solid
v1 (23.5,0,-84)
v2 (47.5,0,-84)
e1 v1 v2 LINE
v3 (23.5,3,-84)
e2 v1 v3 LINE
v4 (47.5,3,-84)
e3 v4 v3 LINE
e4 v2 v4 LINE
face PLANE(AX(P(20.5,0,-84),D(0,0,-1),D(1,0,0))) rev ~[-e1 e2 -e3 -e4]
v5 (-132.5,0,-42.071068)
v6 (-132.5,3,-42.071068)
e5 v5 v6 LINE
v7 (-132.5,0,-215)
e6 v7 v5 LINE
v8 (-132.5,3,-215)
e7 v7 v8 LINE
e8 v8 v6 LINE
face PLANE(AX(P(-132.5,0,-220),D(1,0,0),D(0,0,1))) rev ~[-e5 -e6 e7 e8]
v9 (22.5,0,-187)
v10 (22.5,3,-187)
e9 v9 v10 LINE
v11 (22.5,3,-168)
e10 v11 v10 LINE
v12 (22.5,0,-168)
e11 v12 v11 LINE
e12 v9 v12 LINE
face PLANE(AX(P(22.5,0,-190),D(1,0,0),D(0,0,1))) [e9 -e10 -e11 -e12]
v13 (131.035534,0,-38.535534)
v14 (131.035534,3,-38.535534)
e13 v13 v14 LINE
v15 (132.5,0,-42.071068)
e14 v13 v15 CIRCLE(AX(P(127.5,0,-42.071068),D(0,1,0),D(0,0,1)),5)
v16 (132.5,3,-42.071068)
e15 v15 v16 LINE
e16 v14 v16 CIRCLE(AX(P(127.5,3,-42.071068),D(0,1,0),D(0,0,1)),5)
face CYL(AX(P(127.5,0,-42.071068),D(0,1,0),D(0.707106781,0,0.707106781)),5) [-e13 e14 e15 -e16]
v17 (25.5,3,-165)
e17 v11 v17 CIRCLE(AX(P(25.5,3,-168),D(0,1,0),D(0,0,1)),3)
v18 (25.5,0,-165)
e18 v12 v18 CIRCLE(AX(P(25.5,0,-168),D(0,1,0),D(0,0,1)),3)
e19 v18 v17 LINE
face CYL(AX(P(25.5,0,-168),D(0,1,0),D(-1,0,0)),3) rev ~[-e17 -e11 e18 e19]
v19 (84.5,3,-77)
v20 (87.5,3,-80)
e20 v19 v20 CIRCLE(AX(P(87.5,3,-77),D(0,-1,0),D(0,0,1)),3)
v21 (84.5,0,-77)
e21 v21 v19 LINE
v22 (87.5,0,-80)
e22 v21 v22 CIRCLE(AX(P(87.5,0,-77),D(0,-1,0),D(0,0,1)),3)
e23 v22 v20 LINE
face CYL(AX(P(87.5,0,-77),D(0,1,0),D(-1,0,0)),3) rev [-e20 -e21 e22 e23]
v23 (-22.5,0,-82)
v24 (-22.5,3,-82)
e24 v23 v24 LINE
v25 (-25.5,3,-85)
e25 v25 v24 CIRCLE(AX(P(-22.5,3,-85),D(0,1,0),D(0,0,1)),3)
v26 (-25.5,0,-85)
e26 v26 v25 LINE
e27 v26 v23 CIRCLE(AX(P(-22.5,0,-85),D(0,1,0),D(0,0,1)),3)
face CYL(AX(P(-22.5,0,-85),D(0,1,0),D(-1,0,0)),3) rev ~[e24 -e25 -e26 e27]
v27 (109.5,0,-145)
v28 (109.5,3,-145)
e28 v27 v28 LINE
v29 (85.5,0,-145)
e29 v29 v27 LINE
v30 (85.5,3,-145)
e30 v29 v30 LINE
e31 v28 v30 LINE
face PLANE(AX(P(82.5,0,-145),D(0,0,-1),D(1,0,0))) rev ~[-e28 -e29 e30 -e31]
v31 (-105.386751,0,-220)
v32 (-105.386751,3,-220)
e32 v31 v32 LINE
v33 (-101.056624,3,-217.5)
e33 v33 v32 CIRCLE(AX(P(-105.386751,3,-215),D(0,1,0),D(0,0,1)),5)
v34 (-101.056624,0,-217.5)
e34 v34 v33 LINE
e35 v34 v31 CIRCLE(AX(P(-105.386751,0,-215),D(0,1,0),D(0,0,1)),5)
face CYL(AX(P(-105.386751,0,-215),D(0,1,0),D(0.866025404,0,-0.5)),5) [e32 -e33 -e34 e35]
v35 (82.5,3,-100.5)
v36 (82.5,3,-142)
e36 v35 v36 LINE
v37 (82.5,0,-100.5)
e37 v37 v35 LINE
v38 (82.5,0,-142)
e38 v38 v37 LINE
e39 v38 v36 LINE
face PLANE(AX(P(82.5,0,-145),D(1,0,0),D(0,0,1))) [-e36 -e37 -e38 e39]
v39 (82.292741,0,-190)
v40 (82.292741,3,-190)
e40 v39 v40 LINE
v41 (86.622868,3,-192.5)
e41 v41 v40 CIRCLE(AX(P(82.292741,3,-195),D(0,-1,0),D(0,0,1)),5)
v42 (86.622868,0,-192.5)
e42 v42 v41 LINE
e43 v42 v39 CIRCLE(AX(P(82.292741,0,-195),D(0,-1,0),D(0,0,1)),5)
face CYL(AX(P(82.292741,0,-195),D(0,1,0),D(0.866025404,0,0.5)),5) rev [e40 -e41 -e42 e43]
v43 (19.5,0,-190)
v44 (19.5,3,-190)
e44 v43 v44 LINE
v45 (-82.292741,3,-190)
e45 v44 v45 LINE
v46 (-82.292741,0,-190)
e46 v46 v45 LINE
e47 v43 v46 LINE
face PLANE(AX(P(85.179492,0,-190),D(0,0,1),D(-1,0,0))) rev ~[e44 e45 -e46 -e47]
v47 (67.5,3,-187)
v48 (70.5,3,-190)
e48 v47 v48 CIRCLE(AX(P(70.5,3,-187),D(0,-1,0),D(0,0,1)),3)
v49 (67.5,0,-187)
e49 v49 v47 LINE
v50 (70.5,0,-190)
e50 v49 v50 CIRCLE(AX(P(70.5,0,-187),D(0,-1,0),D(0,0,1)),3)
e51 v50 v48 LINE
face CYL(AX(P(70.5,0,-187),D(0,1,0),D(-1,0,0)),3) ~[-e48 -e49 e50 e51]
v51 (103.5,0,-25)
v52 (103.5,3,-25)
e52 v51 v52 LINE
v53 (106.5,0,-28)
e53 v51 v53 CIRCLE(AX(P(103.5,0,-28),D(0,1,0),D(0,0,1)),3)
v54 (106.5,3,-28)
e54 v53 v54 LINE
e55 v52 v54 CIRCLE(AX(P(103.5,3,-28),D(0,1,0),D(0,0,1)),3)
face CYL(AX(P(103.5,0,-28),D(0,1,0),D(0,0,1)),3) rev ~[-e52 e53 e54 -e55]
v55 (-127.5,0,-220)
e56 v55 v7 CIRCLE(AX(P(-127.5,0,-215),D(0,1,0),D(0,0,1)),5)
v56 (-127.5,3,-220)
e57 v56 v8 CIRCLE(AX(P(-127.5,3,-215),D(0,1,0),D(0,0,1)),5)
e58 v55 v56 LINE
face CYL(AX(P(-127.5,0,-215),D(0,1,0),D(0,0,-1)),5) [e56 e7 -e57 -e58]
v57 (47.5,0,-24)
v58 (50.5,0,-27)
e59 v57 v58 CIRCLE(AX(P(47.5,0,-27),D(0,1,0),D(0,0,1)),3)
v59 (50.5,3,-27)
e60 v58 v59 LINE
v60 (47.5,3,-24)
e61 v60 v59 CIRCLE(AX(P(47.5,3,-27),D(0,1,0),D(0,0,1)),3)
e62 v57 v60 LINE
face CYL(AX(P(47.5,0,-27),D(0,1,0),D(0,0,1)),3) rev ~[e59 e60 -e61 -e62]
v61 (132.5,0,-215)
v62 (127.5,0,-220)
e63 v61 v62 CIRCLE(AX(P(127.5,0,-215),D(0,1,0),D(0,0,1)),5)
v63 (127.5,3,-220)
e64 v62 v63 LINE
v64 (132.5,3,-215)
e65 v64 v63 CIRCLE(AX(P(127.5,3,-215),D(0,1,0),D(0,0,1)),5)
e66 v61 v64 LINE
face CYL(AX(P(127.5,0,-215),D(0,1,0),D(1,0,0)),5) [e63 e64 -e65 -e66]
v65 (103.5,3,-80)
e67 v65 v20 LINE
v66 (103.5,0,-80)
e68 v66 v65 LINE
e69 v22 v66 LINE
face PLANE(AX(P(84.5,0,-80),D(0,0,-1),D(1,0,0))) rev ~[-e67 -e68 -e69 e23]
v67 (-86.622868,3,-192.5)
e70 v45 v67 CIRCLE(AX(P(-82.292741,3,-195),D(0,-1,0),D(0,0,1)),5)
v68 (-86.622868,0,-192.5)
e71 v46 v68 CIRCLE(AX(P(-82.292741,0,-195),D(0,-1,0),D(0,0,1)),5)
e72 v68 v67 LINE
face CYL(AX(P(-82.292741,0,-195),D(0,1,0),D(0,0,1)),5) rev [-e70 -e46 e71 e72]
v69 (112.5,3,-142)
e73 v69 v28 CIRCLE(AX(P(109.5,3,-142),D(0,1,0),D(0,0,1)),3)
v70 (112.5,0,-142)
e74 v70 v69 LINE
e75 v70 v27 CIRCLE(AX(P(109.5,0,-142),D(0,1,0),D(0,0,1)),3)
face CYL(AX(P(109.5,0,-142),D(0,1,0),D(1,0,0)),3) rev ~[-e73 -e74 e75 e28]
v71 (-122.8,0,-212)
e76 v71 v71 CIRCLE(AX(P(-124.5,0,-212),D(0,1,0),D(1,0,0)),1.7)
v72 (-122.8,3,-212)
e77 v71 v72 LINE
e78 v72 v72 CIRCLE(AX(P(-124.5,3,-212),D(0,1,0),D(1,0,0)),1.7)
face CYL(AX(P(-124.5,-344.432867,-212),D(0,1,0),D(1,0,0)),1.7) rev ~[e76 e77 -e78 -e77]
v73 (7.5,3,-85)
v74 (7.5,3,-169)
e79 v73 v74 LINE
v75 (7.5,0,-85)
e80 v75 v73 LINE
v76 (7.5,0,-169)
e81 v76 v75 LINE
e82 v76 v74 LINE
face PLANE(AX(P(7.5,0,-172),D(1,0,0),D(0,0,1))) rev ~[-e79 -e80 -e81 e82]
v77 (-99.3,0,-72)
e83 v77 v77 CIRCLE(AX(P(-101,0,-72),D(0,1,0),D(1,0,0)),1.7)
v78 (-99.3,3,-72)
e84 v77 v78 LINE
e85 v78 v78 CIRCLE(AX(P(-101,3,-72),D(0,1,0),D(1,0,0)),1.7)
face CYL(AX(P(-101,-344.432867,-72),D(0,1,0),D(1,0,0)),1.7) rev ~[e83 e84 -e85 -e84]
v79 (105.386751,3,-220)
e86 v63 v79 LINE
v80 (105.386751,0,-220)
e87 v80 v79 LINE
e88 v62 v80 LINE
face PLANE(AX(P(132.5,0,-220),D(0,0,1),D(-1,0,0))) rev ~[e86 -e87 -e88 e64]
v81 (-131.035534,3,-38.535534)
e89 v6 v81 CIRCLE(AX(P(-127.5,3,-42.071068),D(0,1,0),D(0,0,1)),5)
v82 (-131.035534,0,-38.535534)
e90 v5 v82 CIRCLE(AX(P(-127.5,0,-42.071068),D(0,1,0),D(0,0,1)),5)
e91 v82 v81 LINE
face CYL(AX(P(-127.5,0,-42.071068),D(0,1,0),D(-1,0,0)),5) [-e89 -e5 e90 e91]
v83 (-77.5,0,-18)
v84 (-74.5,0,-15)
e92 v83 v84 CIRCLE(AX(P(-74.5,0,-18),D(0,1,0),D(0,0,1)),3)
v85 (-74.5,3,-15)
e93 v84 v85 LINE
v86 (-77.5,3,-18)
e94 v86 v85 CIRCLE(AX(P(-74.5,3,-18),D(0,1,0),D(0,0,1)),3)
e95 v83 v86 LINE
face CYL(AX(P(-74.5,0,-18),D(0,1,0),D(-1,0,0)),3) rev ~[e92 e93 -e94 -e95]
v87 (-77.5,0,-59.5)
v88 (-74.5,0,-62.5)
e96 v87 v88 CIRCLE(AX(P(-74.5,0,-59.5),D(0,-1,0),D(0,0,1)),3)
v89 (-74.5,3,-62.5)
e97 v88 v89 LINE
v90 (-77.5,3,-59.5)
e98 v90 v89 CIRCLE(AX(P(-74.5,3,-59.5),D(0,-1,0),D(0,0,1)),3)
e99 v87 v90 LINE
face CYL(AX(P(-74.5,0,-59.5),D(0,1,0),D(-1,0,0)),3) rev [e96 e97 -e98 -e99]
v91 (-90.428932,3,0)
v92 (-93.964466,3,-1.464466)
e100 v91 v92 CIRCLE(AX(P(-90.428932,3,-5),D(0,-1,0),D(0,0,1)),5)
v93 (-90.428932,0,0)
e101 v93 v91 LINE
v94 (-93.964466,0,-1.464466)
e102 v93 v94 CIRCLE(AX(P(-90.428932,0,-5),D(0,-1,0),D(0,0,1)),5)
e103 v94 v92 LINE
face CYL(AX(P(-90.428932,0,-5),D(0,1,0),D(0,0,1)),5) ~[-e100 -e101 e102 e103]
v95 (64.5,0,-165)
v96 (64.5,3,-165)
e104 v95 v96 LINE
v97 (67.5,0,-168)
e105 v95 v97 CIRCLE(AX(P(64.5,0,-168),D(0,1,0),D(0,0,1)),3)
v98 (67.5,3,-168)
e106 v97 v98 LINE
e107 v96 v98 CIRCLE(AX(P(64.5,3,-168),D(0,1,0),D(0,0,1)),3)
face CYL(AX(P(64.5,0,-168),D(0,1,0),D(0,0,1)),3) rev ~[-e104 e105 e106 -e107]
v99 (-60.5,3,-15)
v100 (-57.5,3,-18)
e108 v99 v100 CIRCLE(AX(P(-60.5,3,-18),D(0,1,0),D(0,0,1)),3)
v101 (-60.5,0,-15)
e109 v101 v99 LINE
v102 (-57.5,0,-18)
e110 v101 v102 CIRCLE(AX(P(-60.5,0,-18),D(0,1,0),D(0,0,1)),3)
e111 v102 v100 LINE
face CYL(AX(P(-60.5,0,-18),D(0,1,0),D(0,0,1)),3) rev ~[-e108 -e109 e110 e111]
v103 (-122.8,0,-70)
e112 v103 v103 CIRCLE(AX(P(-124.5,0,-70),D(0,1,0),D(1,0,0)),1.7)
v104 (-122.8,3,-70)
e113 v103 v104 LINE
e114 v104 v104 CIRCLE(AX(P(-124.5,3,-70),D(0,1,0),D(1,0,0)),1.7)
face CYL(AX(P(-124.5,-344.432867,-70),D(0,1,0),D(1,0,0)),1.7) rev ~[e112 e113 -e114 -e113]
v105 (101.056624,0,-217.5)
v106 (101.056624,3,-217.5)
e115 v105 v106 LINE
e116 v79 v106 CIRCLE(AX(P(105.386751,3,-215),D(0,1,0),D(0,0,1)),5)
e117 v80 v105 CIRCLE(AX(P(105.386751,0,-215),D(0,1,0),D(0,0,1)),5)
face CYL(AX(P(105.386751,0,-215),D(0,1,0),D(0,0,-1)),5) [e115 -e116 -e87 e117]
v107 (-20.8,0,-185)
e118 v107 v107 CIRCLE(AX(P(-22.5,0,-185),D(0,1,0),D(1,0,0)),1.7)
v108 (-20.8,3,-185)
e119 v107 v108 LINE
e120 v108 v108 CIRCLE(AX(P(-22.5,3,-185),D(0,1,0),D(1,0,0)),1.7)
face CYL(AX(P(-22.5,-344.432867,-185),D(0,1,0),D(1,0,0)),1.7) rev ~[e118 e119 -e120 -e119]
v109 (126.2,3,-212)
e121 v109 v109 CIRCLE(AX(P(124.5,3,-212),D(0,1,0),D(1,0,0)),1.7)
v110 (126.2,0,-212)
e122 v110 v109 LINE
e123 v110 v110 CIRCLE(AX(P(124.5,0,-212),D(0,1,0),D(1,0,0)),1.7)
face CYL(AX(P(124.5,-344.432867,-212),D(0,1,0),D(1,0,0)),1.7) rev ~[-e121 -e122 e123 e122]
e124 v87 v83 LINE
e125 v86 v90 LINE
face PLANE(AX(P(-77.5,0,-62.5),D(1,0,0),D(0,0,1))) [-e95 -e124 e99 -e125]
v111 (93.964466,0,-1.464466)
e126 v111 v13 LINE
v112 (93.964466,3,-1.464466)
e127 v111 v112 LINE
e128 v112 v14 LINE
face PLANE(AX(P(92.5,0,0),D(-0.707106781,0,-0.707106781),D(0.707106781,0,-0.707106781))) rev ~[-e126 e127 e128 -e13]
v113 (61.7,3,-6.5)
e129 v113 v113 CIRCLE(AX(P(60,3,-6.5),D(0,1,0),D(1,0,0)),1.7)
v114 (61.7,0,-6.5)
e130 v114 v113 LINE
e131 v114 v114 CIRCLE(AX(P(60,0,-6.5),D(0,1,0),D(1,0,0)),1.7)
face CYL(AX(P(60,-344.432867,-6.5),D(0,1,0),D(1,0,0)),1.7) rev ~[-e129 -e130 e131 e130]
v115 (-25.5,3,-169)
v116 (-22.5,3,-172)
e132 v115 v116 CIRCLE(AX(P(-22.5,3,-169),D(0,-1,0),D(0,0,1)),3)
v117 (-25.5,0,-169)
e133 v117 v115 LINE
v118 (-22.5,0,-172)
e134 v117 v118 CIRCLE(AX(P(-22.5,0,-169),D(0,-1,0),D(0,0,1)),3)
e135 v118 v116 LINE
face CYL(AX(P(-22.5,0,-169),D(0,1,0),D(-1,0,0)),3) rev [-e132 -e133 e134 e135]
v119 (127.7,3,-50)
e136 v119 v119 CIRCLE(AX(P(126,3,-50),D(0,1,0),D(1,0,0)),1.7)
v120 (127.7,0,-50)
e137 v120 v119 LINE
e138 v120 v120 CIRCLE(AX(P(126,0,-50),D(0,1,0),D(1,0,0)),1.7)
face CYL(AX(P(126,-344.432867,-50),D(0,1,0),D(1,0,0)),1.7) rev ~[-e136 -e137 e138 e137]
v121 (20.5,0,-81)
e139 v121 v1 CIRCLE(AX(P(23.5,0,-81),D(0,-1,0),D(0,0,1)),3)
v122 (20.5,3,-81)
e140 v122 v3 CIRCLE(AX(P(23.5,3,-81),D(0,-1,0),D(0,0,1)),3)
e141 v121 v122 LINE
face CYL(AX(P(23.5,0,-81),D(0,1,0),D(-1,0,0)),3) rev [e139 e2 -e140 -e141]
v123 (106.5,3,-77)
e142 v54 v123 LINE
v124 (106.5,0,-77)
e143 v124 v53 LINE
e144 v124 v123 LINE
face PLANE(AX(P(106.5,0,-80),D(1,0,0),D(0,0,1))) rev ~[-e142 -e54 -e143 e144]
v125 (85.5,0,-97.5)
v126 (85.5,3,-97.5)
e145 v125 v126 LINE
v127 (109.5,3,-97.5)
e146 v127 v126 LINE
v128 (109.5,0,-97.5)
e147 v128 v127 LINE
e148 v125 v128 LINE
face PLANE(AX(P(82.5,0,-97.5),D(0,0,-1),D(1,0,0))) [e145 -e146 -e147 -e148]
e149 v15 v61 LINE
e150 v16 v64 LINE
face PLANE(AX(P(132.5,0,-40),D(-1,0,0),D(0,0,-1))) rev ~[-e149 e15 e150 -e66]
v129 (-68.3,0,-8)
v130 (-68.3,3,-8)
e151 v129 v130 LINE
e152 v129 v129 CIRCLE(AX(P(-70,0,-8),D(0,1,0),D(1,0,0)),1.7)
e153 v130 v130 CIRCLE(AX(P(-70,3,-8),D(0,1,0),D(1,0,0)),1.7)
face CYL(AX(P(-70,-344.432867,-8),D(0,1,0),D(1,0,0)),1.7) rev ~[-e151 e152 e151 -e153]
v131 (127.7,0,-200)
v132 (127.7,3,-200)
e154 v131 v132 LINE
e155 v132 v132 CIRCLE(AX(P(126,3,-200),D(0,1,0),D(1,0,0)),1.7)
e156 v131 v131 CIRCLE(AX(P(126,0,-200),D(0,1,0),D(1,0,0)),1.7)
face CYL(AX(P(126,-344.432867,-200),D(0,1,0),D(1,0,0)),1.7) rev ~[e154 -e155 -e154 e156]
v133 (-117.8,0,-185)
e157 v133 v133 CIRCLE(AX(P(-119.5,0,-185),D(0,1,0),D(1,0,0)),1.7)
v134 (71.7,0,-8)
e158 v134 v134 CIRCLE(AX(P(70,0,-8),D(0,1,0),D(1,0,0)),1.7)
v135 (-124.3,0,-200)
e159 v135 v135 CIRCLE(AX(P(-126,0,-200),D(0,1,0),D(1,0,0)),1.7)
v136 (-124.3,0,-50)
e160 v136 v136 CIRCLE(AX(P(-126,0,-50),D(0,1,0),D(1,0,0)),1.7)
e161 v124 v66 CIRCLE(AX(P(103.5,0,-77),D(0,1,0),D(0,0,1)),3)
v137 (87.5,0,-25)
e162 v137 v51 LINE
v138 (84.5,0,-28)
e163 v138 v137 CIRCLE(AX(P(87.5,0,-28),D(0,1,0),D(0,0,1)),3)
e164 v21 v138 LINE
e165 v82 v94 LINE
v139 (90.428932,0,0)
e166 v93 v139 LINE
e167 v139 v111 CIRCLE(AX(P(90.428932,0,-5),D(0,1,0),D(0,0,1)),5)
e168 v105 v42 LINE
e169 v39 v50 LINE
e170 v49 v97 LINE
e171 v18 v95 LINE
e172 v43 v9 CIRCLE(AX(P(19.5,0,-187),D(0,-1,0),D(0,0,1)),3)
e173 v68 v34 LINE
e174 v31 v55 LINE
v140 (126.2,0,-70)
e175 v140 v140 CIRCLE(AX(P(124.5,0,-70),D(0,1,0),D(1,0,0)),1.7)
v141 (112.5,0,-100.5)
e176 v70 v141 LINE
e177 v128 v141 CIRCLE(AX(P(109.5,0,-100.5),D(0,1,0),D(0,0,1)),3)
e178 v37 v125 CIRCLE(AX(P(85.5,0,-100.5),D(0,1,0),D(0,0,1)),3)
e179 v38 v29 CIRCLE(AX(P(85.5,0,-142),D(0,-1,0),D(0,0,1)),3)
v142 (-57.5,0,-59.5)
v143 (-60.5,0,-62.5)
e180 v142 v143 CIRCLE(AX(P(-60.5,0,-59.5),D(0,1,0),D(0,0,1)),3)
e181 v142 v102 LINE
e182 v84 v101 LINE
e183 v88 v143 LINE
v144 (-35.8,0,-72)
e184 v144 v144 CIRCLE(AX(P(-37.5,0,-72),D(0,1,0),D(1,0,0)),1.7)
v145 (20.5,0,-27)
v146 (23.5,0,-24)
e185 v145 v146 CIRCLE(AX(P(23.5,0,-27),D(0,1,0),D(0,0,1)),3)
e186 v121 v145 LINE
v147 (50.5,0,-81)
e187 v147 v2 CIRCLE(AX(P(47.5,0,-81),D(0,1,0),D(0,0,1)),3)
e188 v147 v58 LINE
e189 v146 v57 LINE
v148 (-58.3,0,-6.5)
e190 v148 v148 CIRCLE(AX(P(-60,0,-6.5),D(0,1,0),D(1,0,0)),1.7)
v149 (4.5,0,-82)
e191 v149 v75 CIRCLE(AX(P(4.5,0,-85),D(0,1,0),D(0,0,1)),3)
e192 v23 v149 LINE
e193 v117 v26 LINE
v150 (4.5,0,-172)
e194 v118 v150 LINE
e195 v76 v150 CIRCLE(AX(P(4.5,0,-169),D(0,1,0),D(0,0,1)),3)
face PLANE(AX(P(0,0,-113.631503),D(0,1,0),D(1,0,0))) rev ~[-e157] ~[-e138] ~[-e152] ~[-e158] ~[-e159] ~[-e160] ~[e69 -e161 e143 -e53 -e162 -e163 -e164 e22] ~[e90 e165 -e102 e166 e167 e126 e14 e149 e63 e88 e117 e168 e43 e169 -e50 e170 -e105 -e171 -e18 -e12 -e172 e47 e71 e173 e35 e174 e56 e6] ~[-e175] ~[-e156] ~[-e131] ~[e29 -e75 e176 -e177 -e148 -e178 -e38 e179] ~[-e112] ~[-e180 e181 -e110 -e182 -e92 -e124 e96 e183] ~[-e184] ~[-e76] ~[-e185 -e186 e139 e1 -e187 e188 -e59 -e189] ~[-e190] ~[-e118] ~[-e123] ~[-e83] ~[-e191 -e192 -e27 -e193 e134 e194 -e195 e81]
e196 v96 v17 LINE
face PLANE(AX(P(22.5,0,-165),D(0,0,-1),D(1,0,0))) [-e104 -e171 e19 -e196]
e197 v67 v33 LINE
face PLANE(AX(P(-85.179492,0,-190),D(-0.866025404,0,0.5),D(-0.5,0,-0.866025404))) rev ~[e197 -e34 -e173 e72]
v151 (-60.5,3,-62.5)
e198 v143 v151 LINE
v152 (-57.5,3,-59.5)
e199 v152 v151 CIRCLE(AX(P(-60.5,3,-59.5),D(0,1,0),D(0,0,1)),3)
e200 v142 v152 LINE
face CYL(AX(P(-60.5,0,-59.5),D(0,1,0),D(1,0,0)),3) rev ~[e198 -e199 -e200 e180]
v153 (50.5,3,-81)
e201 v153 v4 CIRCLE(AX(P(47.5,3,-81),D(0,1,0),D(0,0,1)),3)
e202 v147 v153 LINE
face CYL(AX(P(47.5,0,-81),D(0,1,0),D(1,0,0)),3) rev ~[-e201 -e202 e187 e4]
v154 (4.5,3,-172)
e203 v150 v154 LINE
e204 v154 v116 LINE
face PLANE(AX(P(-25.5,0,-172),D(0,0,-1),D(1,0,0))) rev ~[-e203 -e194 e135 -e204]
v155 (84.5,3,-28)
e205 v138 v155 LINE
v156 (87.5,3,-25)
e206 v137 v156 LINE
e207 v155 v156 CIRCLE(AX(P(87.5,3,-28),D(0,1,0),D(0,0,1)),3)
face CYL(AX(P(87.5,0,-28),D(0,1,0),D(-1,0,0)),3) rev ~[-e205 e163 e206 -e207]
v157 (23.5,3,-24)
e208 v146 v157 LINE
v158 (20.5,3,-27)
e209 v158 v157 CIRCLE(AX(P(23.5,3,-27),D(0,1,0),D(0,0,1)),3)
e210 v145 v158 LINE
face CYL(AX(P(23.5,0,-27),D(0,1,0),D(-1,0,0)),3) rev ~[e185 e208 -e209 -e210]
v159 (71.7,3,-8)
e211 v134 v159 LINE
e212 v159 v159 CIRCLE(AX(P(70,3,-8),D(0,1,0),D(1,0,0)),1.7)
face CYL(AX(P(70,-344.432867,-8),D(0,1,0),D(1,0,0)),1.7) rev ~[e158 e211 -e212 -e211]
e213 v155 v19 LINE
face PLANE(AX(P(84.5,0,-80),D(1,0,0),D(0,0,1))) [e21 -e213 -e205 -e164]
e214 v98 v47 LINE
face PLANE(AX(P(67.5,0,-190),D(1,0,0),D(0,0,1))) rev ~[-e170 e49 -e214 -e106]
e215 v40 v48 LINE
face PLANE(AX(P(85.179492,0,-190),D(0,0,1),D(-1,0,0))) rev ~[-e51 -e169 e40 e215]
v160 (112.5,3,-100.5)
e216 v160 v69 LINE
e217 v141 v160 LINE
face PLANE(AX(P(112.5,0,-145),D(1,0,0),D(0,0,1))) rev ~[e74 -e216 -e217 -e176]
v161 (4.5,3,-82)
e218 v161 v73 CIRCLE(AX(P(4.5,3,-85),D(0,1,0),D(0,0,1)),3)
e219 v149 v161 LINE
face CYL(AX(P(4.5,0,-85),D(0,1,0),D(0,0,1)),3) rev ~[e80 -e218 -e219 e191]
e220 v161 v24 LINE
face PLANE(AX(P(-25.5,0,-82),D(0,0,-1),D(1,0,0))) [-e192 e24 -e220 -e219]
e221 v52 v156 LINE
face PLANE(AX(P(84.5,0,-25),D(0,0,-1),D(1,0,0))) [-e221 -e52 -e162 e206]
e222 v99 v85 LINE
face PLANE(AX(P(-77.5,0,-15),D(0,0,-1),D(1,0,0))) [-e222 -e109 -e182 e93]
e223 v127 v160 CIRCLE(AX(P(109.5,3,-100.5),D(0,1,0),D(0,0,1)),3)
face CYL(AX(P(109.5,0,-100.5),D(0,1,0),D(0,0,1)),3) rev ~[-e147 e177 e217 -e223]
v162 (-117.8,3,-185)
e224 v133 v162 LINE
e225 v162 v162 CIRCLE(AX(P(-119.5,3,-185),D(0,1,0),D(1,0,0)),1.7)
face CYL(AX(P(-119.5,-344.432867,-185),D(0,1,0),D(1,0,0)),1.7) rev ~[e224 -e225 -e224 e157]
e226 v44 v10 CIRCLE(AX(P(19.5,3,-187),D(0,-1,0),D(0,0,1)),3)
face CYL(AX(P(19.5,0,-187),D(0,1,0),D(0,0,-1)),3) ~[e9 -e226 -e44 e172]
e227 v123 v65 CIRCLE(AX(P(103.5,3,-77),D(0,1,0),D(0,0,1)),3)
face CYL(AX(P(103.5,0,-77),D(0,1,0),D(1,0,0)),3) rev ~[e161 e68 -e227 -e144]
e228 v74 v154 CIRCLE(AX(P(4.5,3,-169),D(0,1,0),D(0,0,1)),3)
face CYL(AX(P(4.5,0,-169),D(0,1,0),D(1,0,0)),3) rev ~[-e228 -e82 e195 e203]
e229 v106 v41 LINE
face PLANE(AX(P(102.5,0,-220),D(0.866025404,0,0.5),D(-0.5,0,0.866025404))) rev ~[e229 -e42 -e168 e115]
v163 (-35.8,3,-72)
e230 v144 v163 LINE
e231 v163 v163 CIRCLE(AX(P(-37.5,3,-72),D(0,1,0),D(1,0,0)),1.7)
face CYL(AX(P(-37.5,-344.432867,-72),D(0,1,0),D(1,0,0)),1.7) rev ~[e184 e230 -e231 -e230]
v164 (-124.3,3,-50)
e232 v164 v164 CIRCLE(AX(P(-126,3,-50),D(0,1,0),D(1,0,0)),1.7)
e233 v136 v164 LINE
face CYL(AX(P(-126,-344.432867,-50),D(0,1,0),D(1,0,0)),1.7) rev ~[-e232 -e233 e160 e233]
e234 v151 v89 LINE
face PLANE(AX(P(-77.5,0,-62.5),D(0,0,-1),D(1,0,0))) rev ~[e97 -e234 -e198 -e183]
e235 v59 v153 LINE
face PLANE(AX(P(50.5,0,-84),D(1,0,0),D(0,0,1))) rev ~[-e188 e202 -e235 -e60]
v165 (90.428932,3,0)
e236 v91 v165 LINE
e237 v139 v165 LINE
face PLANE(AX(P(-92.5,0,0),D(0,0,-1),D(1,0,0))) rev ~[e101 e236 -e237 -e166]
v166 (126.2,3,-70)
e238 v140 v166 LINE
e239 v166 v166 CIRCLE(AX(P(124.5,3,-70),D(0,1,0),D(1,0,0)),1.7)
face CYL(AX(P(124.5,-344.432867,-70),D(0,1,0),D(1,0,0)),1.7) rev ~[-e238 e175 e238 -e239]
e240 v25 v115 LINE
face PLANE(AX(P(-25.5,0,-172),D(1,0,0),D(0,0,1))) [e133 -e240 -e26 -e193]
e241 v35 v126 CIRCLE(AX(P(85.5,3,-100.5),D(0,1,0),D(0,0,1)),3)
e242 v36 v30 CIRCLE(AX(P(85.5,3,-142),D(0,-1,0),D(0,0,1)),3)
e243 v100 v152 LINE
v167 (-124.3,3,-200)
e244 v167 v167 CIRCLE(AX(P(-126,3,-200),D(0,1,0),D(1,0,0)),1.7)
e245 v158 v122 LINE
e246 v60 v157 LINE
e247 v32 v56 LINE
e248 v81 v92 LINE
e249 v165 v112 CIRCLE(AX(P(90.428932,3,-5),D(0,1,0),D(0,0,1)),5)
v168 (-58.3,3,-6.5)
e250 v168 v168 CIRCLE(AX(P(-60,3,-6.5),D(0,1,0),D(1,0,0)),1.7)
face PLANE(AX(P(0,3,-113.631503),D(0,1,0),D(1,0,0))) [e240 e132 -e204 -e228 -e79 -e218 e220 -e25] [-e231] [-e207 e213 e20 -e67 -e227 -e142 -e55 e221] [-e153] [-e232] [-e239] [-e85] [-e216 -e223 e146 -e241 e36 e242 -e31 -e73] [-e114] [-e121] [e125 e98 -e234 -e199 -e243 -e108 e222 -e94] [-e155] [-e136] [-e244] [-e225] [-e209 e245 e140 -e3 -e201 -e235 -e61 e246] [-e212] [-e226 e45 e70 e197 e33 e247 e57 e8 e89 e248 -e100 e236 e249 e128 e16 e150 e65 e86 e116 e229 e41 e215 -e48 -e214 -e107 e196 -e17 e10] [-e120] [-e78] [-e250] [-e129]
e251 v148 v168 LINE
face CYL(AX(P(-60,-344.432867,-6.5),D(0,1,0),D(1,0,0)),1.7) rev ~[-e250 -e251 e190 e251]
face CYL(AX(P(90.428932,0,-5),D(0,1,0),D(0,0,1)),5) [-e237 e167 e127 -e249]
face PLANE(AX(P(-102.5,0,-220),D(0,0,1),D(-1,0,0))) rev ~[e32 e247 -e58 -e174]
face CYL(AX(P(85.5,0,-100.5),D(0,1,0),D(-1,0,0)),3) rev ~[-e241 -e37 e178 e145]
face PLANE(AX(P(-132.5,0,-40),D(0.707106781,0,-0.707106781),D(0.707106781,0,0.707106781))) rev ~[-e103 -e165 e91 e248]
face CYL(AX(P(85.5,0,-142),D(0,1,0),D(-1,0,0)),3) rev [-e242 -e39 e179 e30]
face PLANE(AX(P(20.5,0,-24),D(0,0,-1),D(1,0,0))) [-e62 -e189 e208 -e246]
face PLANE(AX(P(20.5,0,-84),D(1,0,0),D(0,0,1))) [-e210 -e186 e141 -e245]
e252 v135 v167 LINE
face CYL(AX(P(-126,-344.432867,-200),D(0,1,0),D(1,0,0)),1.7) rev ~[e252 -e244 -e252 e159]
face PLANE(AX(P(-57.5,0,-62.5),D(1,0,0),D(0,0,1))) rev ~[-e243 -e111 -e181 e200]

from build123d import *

# Parameters (mm, degrees)
BOSS_EXTRU_1_DEPTH      = 3
CONG_1_R                = 5
ESQUISSE2_R             = 1
ESQUISSE2_R_2           = 1.5
ENL_V_MAT_EXTRU_1_DEPTH = 257.837010573
D_GAGEMENT_M31_D        = 3.4
ESQUISSE5_W             = 45
ESQUISSE5_H             = 25
ESQUISSE5_W_2           = 33
ESQUISSE5_H_2           = 90
ESQUISSE5_W_3           = 22
ESQUISSE5_H_3           = 55
ESQUISSE5_W_4           = 30
ESQUISSE5_H_4           = 60
ESQUISSE5_W_5           = 20
ESQUISSE5_H_5           = 47.5
ENL_V_MAT_EXTRU_2_DEPTH = 257.837010573
CONG_2_R                = 3


with BuildPart() as part:
    # Esquisse1 → Boss.-Extru.1 (new body)
    with BuildSketch(Plane(origin=(0, 0, 0), x_dir=(1, 0, 0), z_dir=(0, 1, 0))):
        Polygon((-92.5, 0), (92.5, 0), (132.5, 40), (132.5, 220), (102.5, 220), (85.179491924, 190), (-85.179491924, 190), (-102.5, 220), (-132.5, 220), (-132.5, 40), align=None)
    extrude(amount=BOSS_EXTRU_1_DEPTH)

    # Congé1
    cong_1_edges = [part.edges().sort_by_distance(p)[0] for p in [
        (92.5, 1.5, 0),
        (-92.5, 1.5, 0),
        (-132.5, 1.5, -40),
        (-132.5, 1.5, -220),
        (-102.5, 1.5, -220),
        (-85.179491924, 1.5, -190),
        (85.179491924, 1.5, -190),
        (102.5, 1.5, -220),
        (132.5, 1.5, -220),
        (132.5, 1.5, -40),
    ]]
    fillet(cong_1_edges, radius=CONG_1_R)

    # Esquisse2 → Enlèv. mat.-Extru.1 (cut, through all)
    with BuildSketch(Plane.XZ):
        with Locations(Location((-70, -8, 0), (0, 0, 270))):
            Circle(ESQUISSE2_R)
        with Locations(Location((-124.5, -70, 0), (0, 0, 270))):
            Circle(ESQUISSE2_R)
        with Locations(Location((-124.5, -212, 0), (0, 0, 270))):
            Circle(ESQUISSE2_R)
        with Locations(Location((124.5, -212, 0), (0, 0, 90))):
            Circle(ESQUISSE2_R)
        with Locations(Location((124.5, -70, 0), (0, 0, 90))):
            Circle(ESQUISSE2_R)
        with Locations(Location((70, -8, 0), (0, 0, 90))):
            Circle(ESQUISSE2_R)
        with Locations(Location((126, -50, 0), (0, 0, 270))):
            Circle(ESQUISSE2_R_2)
        with Locations(Location((126, -200, 0), (0, 0, 270))):
            Circle(ESQUISSE2_R_2)
        with Locations(Location((-60, -6.5, 0), (0, 0, 270))):
            Circle(ESQUISSE2_R_2)
        with Locations(Location((60, -6.5, 0), (0, 0, 270))):
            Circle(ESQUISSE2_R_2)
        with Locations(Location((-126, -50, 0), (0, 0, 270))):
            Circle(ESQUISSE2_R_2)
        with Locations(Location((-126, -200, 0), (0, 0, 270))):
            Circle(ESQUISSE2_R_2)
        with Locations(Location((-119.5, -185, 0), (0, 0, 270))):
            Circle(ESQUISSE2_R_2)
        with Locations(Location((-22.5, -185, 0), (0, 0, 270))):
            Circle(ESQUISSE2_R_2)
        with Locations(Location((-101, -72, 0), (0, 0, 270))):
            Circle(ESQUISSE2_R_2)
        with Locations(Location((-37.5, -72, 0), (0, 0, 270))):
            Circle(ESQUISSE2_R_2)
    extrude(amount=-ENL_V_MAT_EXTRU_1_DEPTH, mode=Mode.SUBTRACT)

    # Dégagement M31 (through all)
    with Locations(Plane(origin=(0, 0, 0), x_dir=(-1, 0, 0), z_dir=(0, -1, 0))):
        with Locations((-70, 8), (-124.5, 70), (-124.5, 212), (124.5, 212), (124.5, 70), (70, 8), (-126, 200), (-126, 50), (-60, 6.5), (60, 6.5), (126, 50), (126, 200), (101, 72), (37.5, 72), (119.5, 185), (22.5, 185)):
            Hole(D_GAGEMENT_M31_D / 2)

    # Esquisse5 → Enlèv. mat.-Extru.2 (cut, through all)
    with BuildSketch(Plane.XZ):
        with Locations((45, -177.5)):
            Rectangle(ESQUISSE5_W, ESQUISSE5_H)
        with Locations((-9, -127)):
            Rectangle(ESQUISSE5_W_2, ESQUISSE5_H_2)
        with Locations((95.5, -52.5)):
            Rectangle(ESQUISSE5_W_3, ESQUISSE5_H_3)
        with Locations((35.5, -54)):
            Rectangle(ESQUISSE5_W_4, ESQUISSE5_H_4)
        with Locations((-67.5, -38.75)):
            Rectangle(ESQUISSE5_W_5, ESQUISSE5_H_5)
        with Locations((97.5, -121.25)):
            Rectangle(ESQUISSE5_W_4, ESQUISSE5_H_5)
    extrude(amount=-ENL_V_MAT_EXTRU_2_DEPTH, mode=Mode.SUBTRACT)

    # Congé2
    cong_2_edges = [part.edges().sort_by_distance(p)[0] for p in [
        (-77.5, 1.5, -62.5),
        (-77.5, 1.5, -15),
        (-57.5, 1.5, -15),
        (-57.5, 1.5, -62.5),
        (84.5, 1.5, -80),
        (84.5, 1.5, -25),
        (106.5, 1.5, -25),
        (106.5, 1.5, -80),
        (20.5, 1.5, -84),
        (20.5, 1.5, -24),
        (50.5, 1.5, -24),
        (50.5, 1.5, -84),
        (-25.5, 1.5, -172),
        (-25.5, 1.5, -82),
        (7.5, 1.5, -82),
        (7.5, 1.5, -172),
        (82.5, 1.5, -145),
        (82.5, 1.5, -97.5),
        (112.5, 1.5, -97.5),
        (112.5, 1.5, -145),
        (22.5, 1.5, -190),
        (22.5, 1.5, -165),
        (67.5, 1.5, -165),
        (67.5, 1.5, -190),
    ]]
    fillet(cong_2_edges, radius=CONG_2_R)


solid = part.part
